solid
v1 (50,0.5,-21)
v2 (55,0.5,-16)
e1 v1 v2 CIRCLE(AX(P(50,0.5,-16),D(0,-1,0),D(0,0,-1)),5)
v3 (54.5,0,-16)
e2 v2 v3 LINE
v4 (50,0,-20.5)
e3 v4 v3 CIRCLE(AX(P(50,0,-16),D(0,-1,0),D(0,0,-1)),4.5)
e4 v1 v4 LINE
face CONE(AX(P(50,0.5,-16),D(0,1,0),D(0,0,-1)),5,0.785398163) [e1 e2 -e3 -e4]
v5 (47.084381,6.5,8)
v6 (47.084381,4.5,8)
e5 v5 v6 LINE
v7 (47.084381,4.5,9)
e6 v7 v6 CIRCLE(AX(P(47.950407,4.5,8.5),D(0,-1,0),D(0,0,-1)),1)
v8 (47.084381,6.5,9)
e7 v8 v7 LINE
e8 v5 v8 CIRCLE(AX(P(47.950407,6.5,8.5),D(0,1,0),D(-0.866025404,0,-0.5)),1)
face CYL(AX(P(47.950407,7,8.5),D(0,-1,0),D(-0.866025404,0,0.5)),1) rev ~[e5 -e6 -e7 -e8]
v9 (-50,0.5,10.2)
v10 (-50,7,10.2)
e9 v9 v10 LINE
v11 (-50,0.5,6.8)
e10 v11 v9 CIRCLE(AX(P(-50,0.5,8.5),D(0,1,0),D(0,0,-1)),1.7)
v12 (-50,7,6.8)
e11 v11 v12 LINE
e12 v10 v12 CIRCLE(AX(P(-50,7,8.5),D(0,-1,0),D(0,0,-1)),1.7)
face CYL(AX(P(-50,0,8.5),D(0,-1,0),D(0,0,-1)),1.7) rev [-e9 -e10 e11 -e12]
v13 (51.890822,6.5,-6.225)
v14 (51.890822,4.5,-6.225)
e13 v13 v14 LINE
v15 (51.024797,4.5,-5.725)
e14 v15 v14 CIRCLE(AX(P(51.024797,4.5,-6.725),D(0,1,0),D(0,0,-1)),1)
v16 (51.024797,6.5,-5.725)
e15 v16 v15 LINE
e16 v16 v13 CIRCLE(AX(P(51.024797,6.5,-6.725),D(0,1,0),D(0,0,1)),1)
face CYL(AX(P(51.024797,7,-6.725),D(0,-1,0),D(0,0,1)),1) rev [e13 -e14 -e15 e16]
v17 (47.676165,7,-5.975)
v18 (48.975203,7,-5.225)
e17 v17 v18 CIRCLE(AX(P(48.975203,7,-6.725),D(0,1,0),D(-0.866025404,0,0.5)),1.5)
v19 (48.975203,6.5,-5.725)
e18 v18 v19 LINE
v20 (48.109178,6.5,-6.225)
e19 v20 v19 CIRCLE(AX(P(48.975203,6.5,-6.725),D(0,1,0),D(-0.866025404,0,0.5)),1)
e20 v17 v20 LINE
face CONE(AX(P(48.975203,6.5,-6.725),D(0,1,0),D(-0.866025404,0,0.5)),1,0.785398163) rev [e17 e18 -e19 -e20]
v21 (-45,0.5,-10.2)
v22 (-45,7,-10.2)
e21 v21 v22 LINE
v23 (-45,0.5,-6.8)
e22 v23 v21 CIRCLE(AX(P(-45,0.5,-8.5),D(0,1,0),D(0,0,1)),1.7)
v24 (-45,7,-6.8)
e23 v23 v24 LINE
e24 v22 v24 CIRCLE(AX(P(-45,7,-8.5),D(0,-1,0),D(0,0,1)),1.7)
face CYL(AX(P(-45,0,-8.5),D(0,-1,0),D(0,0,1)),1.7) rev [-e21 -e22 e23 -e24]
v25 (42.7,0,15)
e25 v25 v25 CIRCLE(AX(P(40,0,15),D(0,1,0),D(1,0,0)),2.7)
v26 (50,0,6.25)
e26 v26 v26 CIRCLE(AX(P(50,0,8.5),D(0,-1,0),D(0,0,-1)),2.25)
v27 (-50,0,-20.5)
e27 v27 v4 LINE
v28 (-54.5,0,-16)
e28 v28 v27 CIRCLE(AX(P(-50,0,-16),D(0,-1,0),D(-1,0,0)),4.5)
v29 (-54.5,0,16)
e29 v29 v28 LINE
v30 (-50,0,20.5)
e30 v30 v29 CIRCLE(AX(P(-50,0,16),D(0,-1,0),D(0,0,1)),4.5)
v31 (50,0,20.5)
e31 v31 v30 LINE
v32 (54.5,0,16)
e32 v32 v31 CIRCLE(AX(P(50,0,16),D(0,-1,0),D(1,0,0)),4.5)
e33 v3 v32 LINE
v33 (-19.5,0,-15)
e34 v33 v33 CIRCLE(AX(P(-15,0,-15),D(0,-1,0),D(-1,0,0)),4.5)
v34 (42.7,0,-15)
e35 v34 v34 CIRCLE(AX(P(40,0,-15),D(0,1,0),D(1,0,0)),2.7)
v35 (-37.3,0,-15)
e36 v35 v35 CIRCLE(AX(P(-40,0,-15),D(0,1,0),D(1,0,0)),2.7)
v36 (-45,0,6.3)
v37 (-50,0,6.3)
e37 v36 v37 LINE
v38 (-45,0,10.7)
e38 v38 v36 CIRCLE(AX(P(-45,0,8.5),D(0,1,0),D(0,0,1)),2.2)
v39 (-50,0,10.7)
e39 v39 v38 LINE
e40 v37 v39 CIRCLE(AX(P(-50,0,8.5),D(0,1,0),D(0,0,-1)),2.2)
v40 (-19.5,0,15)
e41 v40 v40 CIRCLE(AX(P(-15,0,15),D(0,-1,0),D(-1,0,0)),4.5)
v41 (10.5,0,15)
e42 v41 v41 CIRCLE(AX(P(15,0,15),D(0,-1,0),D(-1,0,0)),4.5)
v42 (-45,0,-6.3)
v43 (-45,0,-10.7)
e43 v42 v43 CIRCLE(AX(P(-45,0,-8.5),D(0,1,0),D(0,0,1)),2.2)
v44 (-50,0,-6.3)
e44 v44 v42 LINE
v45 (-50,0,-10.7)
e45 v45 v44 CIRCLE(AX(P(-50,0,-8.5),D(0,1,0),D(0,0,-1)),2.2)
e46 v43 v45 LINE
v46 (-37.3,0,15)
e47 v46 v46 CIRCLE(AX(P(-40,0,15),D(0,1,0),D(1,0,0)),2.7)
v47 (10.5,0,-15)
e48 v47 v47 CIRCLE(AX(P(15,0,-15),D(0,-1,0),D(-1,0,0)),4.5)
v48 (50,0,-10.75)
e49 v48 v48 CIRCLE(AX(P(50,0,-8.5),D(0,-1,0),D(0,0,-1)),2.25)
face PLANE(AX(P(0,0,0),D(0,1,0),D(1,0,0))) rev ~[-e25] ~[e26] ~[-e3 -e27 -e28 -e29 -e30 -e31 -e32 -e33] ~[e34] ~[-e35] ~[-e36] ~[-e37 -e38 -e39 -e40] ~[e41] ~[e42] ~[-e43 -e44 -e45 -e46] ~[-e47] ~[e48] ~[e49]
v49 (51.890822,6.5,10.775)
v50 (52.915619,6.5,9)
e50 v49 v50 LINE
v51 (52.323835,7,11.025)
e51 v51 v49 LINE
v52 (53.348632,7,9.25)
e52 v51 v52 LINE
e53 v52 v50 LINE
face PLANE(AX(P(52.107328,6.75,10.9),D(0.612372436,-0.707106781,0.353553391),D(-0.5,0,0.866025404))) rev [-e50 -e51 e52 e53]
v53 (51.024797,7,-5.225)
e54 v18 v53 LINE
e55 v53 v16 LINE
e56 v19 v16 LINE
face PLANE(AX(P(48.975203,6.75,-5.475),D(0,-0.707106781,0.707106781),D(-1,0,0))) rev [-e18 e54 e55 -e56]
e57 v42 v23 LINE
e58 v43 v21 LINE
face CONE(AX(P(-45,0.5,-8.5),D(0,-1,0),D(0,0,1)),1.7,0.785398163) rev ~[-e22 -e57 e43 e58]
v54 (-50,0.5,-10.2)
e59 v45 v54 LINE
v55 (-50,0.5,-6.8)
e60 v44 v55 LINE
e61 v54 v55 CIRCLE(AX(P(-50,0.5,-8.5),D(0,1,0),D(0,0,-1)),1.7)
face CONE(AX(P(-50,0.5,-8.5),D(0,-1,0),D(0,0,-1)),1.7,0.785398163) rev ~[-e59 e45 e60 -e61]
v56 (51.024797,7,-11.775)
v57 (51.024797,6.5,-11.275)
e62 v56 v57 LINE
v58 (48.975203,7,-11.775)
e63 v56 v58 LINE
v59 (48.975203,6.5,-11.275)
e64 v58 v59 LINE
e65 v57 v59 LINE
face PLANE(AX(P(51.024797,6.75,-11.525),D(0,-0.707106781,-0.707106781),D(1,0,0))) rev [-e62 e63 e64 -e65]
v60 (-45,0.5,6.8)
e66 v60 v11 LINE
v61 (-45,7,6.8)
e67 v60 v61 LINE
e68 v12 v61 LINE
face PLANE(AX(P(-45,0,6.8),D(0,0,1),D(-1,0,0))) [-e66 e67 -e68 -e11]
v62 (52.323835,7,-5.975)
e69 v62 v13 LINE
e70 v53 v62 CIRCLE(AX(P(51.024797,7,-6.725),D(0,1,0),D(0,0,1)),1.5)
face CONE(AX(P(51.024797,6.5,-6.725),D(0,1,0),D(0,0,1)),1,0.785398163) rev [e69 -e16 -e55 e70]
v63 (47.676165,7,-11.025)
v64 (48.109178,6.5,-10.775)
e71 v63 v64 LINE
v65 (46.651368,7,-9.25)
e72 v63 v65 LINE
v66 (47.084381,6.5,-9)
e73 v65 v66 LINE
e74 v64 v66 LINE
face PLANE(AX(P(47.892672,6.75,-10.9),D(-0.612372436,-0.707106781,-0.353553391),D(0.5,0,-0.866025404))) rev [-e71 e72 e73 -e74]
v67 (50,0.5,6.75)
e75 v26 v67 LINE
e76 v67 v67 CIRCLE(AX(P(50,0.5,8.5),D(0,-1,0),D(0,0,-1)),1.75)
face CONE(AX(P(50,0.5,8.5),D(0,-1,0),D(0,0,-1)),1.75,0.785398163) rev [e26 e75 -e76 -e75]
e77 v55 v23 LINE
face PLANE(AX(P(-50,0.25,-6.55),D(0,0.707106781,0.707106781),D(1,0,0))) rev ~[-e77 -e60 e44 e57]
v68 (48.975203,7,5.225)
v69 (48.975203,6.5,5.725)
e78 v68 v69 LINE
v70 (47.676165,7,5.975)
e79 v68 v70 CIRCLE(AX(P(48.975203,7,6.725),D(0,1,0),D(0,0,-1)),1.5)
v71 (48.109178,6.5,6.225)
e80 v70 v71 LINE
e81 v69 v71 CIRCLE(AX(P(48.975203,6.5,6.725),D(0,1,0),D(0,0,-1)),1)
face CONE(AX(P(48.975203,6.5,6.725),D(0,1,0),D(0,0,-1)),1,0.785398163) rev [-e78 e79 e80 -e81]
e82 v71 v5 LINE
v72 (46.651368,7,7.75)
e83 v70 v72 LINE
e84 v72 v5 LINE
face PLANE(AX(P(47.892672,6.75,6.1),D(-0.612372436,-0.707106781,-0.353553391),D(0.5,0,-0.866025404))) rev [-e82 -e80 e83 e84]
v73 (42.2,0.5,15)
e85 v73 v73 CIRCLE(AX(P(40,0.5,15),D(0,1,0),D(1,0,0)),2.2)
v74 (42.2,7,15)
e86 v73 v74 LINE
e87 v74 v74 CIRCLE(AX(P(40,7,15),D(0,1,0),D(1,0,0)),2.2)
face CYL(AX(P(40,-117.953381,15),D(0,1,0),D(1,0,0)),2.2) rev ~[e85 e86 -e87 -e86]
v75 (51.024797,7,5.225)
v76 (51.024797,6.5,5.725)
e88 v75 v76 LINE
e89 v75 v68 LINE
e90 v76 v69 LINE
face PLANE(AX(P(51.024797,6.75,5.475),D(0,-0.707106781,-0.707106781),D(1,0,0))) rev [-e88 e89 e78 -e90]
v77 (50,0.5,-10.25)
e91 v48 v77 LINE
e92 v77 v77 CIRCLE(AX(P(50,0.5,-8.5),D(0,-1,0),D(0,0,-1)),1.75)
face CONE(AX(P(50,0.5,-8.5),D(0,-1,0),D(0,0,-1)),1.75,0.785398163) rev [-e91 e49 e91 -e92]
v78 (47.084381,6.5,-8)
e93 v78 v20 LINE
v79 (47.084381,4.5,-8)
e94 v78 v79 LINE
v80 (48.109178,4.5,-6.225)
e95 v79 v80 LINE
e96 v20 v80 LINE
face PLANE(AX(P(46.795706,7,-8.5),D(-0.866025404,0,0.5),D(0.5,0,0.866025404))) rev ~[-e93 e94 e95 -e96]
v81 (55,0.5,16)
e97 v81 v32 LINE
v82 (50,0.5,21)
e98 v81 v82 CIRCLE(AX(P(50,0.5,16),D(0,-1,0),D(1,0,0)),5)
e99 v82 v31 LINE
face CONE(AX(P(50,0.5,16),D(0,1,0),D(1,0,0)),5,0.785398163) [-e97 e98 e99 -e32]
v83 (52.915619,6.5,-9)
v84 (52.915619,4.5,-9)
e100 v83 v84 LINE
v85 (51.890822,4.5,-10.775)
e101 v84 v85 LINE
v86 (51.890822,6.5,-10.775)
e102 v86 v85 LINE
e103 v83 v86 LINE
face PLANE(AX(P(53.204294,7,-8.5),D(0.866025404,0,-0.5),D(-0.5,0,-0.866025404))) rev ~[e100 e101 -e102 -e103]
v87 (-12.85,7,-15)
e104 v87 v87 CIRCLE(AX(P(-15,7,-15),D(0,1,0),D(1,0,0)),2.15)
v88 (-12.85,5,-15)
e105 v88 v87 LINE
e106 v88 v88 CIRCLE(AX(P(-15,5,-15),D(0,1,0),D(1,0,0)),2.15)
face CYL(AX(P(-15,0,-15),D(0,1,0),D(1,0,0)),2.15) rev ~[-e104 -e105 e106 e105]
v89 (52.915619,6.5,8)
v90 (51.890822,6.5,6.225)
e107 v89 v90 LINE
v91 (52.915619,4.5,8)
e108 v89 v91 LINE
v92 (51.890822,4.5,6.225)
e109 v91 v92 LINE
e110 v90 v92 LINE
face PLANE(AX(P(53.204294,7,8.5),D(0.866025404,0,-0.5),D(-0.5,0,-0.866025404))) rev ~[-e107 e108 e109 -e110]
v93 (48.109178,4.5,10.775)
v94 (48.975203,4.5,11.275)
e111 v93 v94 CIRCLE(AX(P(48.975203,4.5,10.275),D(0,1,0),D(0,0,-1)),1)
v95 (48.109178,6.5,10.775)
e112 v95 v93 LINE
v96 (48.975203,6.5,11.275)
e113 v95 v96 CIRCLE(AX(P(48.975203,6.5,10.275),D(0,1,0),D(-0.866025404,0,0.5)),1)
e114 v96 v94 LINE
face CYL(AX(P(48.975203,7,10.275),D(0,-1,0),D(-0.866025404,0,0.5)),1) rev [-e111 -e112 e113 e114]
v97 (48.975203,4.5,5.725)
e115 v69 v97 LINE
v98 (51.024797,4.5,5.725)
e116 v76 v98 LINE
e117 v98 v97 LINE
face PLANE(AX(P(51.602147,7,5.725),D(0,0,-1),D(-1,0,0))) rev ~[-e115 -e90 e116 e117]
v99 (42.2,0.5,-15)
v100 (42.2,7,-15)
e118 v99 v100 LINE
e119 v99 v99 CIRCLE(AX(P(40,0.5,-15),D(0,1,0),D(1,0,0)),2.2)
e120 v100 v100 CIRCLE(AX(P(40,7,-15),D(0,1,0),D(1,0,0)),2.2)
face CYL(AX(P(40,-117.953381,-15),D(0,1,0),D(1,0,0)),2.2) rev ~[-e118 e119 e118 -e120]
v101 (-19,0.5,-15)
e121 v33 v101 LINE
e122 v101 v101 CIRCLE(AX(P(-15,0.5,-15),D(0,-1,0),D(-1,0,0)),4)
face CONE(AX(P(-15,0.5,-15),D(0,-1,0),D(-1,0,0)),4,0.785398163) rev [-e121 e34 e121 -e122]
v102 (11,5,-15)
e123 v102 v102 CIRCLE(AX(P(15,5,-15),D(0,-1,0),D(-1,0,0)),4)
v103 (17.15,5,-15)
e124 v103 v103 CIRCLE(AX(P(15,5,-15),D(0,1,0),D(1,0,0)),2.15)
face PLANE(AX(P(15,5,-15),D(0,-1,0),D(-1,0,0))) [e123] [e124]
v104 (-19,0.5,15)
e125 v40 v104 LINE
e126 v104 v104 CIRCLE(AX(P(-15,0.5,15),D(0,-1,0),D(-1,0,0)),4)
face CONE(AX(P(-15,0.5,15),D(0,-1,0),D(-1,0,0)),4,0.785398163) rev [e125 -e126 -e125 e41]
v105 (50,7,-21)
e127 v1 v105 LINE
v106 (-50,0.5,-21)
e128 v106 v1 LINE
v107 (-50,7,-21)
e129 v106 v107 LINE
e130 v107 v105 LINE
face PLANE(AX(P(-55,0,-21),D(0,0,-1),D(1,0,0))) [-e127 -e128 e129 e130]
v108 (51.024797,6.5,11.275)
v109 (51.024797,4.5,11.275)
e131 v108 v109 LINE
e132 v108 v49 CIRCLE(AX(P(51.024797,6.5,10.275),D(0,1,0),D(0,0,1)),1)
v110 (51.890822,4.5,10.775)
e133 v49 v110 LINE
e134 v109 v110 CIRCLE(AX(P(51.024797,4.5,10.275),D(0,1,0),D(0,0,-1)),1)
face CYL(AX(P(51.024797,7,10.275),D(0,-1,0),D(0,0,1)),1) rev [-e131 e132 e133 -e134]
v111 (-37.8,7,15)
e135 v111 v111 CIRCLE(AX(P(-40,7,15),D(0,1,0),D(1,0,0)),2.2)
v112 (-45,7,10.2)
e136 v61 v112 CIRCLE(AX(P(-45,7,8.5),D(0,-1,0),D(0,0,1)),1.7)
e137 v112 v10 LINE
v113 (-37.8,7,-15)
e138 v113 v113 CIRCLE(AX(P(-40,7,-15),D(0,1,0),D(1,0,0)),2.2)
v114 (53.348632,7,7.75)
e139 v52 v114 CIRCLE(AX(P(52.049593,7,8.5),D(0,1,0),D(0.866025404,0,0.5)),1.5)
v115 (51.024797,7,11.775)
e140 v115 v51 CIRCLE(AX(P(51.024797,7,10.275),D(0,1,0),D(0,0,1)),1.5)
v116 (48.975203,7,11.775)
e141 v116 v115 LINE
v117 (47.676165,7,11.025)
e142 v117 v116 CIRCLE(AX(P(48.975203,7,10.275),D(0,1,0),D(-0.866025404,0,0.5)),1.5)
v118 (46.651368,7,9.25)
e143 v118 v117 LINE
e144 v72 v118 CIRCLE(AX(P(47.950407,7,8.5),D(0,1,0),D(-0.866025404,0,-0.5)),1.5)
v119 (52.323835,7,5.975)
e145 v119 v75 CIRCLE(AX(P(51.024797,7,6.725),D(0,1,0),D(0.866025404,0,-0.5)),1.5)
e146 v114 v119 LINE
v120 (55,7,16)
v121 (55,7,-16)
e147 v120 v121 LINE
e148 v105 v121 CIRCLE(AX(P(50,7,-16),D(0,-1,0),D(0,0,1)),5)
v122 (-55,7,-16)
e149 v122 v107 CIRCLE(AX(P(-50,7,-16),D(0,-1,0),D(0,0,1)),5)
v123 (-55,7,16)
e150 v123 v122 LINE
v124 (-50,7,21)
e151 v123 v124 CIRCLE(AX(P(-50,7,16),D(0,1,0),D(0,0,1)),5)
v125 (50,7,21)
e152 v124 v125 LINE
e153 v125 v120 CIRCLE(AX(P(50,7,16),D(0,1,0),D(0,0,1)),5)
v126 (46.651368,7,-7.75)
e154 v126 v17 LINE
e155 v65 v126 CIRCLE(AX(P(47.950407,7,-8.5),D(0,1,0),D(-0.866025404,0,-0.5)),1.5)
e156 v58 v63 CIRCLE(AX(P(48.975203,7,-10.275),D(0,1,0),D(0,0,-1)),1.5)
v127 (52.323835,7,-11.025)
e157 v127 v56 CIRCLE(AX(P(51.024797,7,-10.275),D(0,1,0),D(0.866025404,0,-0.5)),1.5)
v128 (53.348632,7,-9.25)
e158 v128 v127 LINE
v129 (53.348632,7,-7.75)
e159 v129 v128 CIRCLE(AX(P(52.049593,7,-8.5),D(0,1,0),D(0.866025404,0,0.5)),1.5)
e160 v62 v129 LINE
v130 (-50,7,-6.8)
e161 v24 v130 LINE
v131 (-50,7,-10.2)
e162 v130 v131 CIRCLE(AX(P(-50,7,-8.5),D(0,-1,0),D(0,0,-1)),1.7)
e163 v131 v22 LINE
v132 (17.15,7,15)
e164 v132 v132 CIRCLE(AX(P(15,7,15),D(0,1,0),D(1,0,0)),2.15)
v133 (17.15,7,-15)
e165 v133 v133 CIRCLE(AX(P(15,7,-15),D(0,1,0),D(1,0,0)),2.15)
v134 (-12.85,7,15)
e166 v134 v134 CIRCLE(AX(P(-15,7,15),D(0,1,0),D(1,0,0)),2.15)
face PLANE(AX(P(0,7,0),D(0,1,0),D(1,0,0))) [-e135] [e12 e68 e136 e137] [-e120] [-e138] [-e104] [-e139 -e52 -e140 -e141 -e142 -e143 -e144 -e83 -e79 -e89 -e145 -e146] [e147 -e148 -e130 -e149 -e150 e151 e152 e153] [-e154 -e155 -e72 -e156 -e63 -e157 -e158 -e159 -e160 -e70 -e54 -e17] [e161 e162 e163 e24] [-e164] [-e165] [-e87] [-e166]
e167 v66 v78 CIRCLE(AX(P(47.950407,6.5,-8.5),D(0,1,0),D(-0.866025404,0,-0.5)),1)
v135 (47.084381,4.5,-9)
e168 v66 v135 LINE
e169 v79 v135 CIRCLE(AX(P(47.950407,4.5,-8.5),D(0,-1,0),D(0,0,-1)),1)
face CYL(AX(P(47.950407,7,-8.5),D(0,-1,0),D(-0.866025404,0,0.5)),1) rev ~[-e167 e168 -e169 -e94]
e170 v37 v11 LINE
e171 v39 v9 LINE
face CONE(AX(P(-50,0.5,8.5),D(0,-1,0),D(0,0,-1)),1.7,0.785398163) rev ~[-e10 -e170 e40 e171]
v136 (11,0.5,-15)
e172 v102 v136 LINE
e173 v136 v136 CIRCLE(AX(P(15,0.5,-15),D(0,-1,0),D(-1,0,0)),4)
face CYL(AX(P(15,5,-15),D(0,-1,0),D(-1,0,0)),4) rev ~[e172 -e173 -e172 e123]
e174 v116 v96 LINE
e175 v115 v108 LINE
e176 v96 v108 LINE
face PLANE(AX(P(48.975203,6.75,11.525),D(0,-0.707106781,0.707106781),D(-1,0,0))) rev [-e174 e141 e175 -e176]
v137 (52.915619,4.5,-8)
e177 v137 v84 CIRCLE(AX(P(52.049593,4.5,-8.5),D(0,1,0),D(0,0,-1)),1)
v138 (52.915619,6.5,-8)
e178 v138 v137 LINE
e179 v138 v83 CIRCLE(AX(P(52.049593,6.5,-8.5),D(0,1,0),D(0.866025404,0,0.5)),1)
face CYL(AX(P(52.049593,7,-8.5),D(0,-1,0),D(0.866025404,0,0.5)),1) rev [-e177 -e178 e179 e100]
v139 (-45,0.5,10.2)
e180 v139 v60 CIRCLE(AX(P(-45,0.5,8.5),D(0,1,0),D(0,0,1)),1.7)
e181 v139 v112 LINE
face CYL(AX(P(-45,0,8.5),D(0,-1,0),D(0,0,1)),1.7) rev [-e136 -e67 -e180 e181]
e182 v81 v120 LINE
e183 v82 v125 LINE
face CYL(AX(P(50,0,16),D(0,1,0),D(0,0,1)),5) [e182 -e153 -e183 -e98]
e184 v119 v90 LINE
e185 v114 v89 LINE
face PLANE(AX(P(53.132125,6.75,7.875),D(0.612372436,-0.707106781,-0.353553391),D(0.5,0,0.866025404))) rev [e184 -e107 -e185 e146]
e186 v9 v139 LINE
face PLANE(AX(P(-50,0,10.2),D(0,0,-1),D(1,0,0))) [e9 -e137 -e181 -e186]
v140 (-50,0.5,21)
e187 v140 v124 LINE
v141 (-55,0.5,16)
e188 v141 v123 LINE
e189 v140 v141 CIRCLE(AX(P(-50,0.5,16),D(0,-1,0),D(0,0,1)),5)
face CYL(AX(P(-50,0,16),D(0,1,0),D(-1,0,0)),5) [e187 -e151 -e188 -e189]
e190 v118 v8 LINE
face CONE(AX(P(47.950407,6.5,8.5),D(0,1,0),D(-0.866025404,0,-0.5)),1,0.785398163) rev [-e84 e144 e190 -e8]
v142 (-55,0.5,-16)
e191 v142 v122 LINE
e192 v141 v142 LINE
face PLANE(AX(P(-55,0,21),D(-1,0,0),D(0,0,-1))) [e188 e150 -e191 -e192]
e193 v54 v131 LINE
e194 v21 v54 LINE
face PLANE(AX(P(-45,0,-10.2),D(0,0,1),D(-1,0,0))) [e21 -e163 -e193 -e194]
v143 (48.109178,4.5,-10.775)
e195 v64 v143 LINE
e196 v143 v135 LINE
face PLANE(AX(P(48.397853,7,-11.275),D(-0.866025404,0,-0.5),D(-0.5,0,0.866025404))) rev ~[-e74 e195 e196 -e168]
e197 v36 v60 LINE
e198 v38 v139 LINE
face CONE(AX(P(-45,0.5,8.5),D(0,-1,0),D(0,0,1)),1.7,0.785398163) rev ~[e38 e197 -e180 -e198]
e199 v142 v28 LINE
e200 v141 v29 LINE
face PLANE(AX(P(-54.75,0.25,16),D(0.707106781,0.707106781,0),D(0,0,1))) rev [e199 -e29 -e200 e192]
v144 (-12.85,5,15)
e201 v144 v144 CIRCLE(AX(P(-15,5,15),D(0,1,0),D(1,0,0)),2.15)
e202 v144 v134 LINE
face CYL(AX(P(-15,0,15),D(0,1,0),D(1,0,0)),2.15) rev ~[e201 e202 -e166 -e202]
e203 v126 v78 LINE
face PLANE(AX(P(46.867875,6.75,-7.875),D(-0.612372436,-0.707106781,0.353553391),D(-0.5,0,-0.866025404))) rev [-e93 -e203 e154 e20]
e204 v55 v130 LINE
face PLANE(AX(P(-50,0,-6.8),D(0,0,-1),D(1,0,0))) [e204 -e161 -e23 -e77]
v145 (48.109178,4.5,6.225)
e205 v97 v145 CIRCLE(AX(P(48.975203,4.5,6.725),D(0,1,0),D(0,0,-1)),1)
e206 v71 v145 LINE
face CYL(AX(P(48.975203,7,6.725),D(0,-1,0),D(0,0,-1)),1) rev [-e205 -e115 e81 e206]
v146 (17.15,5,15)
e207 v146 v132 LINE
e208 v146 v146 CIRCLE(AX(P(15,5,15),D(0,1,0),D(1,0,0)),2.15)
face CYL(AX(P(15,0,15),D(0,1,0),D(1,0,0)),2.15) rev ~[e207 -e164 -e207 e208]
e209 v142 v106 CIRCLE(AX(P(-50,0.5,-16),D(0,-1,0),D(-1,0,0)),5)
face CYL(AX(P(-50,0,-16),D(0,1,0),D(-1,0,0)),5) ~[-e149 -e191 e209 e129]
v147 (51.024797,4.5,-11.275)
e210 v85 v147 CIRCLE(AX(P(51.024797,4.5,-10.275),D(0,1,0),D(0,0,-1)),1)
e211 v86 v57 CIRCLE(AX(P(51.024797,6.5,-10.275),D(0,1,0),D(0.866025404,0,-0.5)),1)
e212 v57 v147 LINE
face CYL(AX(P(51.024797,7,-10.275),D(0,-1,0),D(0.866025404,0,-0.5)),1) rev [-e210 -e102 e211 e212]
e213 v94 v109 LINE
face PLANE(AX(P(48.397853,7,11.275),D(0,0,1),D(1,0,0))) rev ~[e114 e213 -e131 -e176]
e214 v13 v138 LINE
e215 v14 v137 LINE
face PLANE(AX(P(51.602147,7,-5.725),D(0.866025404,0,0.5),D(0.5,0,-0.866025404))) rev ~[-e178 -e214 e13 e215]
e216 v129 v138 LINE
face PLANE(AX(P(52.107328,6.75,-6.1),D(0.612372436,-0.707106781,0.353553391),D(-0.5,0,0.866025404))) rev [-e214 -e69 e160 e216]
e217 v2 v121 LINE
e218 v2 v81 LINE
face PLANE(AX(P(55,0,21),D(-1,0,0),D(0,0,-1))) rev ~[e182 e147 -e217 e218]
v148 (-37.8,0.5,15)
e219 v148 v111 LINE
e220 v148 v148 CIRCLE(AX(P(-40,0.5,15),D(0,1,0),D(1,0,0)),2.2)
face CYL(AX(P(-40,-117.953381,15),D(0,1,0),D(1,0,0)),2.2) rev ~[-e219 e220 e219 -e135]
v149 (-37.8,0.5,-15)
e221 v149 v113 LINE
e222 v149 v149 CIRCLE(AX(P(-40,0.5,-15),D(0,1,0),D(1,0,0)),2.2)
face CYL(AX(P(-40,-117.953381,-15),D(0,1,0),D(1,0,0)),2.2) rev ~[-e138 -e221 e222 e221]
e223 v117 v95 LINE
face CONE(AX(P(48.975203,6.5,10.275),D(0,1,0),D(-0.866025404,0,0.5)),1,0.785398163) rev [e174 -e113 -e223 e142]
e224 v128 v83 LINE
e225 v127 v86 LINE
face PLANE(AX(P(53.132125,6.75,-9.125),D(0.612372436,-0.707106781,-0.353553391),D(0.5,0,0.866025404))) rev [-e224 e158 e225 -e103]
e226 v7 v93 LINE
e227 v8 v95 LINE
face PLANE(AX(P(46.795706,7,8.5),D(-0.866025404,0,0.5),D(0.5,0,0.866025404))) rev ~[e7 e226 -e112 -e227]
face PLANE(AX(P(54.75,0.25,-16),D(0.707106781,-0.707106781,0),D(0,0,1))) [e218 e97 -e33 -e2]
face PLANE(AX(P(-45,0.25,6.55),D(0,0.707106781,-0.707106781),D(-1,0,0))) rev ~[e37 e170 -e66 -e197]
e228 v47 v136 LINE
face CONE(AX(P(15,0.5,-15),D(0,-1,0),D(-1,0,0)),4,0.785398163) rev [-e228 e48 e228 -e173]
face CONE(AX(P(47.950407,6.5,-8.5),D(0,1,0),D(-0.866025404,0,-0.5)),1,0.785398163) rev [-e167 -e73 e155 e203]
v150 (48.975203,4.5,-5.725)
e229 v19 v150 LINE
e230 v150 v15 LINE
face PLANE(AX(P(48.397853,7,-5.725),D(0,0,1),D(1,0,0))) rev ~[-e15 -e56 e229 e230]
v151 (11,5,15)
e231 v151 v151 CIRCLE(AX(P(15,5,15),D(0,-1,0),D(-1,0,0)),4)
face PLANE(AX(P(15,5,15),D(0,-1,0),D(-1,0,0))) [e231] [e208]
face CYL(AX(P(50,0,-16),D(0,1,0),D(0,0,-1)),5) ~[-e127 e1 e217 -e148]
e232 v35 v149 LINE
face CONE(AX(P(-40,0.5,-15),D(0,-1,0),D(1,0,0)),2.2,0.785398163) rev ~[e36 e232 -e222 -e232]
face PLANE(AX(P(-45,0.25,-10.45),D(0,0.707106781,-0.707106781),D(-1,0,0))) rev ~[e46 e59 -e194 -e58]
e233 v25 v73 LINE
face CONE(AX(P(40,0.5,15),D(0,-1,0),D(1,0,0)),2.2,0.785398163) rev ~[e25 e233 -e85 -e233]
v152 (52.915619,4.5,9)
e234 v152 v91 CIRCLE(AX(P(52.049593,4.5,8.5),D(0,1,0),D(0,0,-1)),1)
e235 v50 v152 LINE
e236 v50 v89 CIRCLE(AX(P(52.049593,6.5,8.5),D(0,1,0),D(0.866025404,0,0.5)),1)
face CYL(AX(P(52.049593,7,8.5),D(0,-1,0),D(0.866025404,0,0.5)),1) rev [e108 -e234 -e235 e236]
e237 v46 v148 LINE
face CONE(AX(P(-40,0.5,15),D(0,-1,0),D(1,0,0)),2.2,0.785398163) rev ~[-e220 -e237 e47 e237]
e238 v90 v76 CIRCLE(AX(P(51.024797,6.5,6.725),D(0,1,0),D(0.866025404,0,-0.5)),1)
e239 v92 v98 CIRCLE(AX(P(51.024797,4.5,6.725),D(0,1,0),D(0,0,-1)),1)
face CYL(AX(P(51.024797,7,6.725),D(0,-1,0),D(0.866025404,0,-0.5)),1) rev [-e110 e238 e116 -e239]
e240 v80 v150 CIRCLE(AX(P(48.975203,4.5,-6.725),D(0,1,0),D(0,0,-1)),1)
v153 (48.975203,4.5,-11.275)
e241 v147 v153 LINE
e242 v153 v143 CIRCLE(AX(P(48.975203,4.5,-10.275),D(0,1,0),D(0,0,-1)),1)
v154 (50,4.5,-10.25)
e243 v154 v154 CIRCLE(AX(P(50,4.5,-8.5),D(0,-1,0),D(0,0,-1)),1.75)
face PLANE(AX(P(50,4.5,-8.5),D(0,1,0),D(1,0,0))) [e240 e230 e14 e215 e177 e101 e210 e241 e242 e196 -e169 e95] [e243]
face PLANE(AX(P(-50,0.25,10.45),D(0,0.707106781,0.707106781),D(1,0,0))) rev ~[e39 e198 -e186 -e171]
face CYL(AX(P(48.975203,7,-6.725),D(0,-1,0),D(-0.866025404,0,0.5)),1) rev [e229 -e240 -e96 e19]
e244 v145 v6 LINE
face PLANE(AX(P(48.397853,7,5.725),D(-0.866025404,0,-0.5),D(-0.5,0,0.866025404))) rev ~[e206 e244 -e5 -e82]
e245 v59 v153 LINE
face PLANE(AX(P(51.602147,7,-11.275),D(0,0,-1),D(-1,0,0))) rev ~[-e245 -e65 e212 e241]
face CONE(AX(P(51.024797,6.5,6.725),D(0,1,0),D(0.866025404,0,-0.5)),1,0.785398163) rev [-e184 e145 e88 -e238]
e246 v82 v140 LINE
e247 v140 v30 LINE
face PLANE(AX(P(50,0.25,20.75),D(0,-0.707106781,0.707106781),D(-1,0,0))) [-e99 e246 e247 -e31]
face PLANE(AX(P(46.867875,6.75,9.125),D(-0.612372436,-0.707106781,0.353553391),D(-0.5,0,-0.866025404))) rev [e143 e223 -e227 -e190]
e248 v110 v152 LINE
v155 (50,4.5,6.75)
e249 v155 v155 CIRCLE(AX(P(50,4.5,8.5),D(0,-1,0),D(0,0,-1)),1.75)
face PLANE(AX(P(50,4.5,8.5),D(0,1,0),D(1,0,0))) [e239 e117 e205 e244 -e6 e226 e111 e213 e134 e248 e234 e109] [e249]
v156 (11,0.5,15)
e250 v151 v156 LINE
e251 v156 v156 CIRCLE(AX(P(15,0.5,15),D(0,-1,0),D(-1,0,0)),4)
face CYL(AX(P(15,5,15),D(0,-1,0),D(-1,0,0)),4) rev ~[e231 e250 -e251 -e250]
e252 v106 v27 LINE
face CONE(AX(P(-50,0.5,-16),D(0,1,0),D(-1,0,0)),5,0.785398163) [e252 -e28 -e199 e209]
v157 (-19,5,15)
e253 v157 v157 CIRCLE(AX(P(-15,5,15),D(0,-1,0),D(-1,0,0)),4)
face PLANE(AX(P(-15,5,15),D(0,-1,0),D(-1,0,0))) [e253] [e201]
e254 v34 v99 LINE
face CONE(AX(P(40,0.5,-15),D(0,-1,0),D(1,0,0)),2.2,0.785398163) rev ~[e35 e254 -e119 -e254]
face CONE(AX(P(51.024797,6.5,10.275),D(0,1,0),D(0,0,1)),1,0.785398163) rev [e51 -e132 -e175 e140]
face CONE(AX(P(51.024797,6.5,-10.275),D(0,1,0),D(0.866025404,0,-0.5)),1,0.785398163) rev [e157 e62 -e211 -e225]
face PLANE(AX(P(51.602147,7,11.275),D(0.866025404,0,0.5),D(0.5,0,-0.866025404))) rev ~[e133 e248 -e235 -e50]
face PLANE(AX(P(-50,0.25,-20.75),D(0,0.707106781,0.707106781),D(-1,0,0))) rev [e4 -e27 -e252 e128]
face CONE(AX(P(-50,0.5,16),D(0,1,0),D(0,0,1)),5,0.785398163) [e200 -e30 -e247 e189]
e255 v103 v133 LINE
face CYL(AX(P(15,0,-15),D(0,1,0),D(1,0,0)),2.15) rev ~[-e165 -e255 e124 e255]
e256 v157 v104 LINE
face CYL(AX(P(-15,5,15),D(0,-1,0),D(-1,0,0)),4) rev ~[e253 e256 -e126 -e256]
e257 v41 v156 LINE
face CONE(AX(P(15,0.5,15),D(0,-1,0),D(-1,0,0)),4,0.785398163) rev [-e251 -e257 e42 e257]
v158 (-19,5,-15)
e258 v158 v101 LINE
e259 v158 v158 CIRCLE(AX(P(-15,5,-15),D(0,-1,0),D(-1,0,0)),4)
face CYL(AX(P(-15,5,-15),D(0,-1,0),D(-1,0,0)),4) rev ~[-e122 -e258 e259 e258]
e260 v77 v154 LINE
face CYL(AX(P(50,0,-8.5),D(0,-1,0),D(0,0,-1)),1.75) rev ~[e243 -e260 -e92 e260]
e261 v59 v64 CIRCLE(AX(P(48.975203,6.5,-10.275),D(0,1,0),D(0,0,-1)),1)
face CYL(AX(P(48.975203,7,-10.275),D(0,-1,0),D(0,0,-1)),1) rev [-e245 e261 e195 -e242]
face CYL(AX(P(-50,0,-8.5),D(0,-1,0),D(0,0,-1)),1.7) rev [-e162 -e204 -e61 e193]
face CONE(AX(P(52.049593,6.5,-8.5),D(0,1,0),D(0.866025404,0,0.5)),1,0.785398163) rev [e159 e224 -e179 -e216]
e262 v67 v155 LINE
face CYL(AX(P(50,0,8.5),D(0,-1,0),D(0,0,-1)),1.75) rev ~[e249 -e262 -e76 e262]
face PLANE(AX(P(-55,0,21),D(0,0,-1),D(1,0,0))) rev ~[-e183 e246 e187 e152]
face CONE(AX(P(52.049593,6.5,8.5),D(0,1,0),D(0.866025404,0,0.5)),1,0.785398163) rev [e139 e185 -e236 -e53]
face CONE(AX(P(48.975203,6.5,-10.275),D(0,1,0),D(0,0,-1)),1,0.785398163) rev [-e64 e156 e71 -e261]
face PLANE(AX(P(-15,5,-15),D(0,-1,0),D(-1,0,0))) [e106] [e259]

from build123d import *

# Parameters (mm, degrees)
SKETCH1_W                                           = 110
SKETCH1_H                                           = 42
BOSS_EXTRUDE1_DEPTH                                 = 7
F_4_4_4_4_DIAMETER_HOLE1_D                          = 4.4
CBORE_FOR_M4_HEX_SOCKET_HEAD_CAP_SCREW1_D           = 4.3
CBORE_FOR_M4_HEX_SOCKET_HEAD_CAP_SCREW1_CBORE_D     = 8
CBORE_FOR_M4_HEX_SOCKET_HEAD_CAP_SCREW1_CBORE_DEPTH = 5
SKETCH18_R                                          = 1.75
CUT_EXTRUDE1_DEPTH                                  = 10
FILLET1_R                                           = 5
CHAMFER1_SIZE                                       = 0.5
CUT_EXTRUDE2_DEPTH                                  = 2.5
FILLET2_R                                           = 1
CHAMFER2_SIZE                                       = 0.5


with BuildPart() as part:
    # Sketch1 → Boss-Extrude1 (new body)
    with BuildSketch(Plane(origin=(0, 0, 0), x_dir=(1, 0, 0), z_dir=(0, 1, 0))):
        Rectangle(SKETCH1_W, SKETCH1_H)
    extrude(amount=BOSS_EXTRUDE1_DEPTH)

    # Ø4.4 (4.4) Diameter Hole1 (through all)
    with Locations(Plane(origin=(0, 0, 0), x_dir=(-1, 0, 0), z_dir=(0, -1, 0))):
        with Locations((-40, 15), (-40, -15), (40, -15), (40, 15)):
            Hole(F_4_4_4_4_DIAMETER_HOLE1_D / 2)

    # CBORE for M4 Hex Socket Head Cap Screw1 (through all)
    with Locations(Plane(origin=(0, 0, 0), x_dir=(-1, 0, 0), z_dir=(0, -1, 0))):
        with Locations((-15, 15), (15, 15), (-15, -15), (15, -15)):
            CounterBoreHole(CBORE_FOR_M4_HEX_SOCKET_HEAD_CAP_SCREW1_D / 2, CBORE_FOR_M4_HEX_SOCKET_HEAD_CAP_SCREW1_CBORE_D / 2, CBORE_FOR_M4_HEX_SOCKET_HEAD_CAP_SCREW1_CBORE_DEPTH)

    # Sketch18 → Cut-Extrude1 (cut)
    with BuildSketch(Plane.XZ):
        with Locations(Location((50, 8.5, 0), (0, 0, 270))):
            Circle(SKETCH18_R)
        with Locations(Location((50, -8.5, 0), (0, 0, 270))):
            Circle(SKETCH18_R)
        with BuildLine():
            Line((-50, 10.2), (-45, 10.2))
            ThreePointArc((-45, 10.2), (-43.3, 8.5), (-45, 6.8))
            Line((-45, 6.8), (-50, 6.8))
            ThreePointArc((-50, 6.8), (-51.7, 8.5), (-50, 10.2))
        make_face()
        with BuildLine():
            Line((-50, -6.8), (-45, -6.8))
            ThreePointArc((-45, -6.8), (-43.3, -8.5), (-45, -10.2))
            Line((-45, -10.2), (-50, -10.2))
            ThreePointArc((-50, -10.2), (-51.7, -8.5), (-50, -6.8))
        make_face()
    extrude(amount=-CUT_EXTRUDE1_DEPTH, mode=Mode.SUBTRACT)

    # Fillet1
    fillet1_edges = [part.edges().sort_by_distance(p)[0] for p in [
        (55, 3.5, 21),
        (-55, 3.5, 21),
        (-55, 3.5, -21),
        (55, 3.5, -21),
    ]]
    fillet(fillet1_edges, radius=FILLET1_R)

    # Chamfer1
    chamfer1_edges = [part.edges().sort_by_distance(p)[0] for p in [
        (-55, 0, 0),
        (55, 0, 0),
        (0, 0, 21),
        (0, 0, -21),
        (-53.535533906, 0, 19.535533906),
        (53.535533906, 0, 19.535533906),
        (53.535533906, 0, -19.535533906),
        (-53.535533906, 0, -19.535533906),
        (-42.2, 0, -15),
        (-42.2, 0, 15),
        (37.8, 0, 15),
        (37.8, 0, -15),
        (-11, 0, 15),
        (19, 0, 15),
        (-11, 0, -15),
        (19, 0, -15),
        (-51.7, 0, -8.5),
        (-47.5, 0, -10.2),
        (-43.3, 0, -8.5),
        (-47.5, 0, -6.8),
        (50, 0, 10.25),
        (50, 0, -6.75),
        (-51.7, 0, 8.5),
        (-47.5, 0, 6.8),
        (-43.3, 0, 8.5),
        (-47.5, 0, 10.2),
    ]]
    chamfer(chamfer1_edges, length=CHAMFER1_SIZE)

    # Sketch22 → Cut-Extrude2 (cut)
    with BuildSketch(Plane(origin=(0, 7, 0), x_dir=(1, 0, 0), z_dir=(0, 1, 0))):
        Polygon((46.795706006, -8.5), (48.397853003, -11.275), (51.602146997, -11.275), (53.204293994, -8.5), (51.602146997, -5.725), (48.397853003, -5.725), align=None)
        Polygon((46.795706006, 8.5), (48.397853003, 5.725), (51.602146997, 5.725), (53.204293994, 8.5), (51.602146997, 11.275), (48.397853003, 11.275), align=None)
    extrude(amount=-CUT_EXTRUDE2_DEPTH, mode=Mode.SUBTRACT)

    # Fillet2
    fillet2_edges = [part.edges().sort_by_distance(p)[0] for p in [
        (46.795706006, 5.75, 8.5),
        (48.397853003, 5.75, 5.725),
        (51.602146997, 5.75, 5.725),
        (53.204293994, 5.75, 8.5),
        (51.602146997, 5.75, 11.275),
        (48.397853003, 5.75, 11.275),
        (46.795706006, 5.75, -8.5),
        (48.397853003, 5.75, -11.275),
        (51.602146997, 5.75, -11.275),
        (53.204293994, 5.75, -8.5),
        (51.602146997, 5.75, -5.725),
        (48.397853003, 5.75, -5.725),
    ]]
    fillet(fillet2_edges, radius=FILLET2_R)

    # Chamfer2
    chamfer2_edges = [part.edges().sort_by_distance(p)[0] for p in [
        (52.403220496, 7, 9.8875),
        (50, 7, 11.275),
        (52.403220496, 7, 7.1125),
        (50, 7, 5.725),
        (47.596779504, 7, 7.1125),
        (47.596779504, 7, 9.8875),
        (50, 7, -5.725),
        (47.596779504, 7, -7.1125),
        (47.596779504, 7, -9.8875),
        (50, 7, -11.275),
        (52.403220496, 7, -9.8875),
        (52.403220496, 7, -7.1125),
        (51.524796728, 7, 11.141025404),
        (53.049593456, 7, 8.5),
        (51.524796728, 7, 5.858974596),
        (48.475203272, 7, 5.858974596),
        (46.950406544, 7, 8.5),
        (48.475203272, 7, 11.141025404),
        (48.475203272, 7, -5.858974596),
        (46.950406544, 7, -8.5),
        (48.475203272, 7, -11.141025404),
        (51.524796728, 7, -11.141025404),
        (53.049593456, 7, -8.5),
        (51.524796728, 7, -5.858974596),
    ]]
    chamfer(chamfer2_edges, length=CHAMFER2_SIZE)


solid = part.part
